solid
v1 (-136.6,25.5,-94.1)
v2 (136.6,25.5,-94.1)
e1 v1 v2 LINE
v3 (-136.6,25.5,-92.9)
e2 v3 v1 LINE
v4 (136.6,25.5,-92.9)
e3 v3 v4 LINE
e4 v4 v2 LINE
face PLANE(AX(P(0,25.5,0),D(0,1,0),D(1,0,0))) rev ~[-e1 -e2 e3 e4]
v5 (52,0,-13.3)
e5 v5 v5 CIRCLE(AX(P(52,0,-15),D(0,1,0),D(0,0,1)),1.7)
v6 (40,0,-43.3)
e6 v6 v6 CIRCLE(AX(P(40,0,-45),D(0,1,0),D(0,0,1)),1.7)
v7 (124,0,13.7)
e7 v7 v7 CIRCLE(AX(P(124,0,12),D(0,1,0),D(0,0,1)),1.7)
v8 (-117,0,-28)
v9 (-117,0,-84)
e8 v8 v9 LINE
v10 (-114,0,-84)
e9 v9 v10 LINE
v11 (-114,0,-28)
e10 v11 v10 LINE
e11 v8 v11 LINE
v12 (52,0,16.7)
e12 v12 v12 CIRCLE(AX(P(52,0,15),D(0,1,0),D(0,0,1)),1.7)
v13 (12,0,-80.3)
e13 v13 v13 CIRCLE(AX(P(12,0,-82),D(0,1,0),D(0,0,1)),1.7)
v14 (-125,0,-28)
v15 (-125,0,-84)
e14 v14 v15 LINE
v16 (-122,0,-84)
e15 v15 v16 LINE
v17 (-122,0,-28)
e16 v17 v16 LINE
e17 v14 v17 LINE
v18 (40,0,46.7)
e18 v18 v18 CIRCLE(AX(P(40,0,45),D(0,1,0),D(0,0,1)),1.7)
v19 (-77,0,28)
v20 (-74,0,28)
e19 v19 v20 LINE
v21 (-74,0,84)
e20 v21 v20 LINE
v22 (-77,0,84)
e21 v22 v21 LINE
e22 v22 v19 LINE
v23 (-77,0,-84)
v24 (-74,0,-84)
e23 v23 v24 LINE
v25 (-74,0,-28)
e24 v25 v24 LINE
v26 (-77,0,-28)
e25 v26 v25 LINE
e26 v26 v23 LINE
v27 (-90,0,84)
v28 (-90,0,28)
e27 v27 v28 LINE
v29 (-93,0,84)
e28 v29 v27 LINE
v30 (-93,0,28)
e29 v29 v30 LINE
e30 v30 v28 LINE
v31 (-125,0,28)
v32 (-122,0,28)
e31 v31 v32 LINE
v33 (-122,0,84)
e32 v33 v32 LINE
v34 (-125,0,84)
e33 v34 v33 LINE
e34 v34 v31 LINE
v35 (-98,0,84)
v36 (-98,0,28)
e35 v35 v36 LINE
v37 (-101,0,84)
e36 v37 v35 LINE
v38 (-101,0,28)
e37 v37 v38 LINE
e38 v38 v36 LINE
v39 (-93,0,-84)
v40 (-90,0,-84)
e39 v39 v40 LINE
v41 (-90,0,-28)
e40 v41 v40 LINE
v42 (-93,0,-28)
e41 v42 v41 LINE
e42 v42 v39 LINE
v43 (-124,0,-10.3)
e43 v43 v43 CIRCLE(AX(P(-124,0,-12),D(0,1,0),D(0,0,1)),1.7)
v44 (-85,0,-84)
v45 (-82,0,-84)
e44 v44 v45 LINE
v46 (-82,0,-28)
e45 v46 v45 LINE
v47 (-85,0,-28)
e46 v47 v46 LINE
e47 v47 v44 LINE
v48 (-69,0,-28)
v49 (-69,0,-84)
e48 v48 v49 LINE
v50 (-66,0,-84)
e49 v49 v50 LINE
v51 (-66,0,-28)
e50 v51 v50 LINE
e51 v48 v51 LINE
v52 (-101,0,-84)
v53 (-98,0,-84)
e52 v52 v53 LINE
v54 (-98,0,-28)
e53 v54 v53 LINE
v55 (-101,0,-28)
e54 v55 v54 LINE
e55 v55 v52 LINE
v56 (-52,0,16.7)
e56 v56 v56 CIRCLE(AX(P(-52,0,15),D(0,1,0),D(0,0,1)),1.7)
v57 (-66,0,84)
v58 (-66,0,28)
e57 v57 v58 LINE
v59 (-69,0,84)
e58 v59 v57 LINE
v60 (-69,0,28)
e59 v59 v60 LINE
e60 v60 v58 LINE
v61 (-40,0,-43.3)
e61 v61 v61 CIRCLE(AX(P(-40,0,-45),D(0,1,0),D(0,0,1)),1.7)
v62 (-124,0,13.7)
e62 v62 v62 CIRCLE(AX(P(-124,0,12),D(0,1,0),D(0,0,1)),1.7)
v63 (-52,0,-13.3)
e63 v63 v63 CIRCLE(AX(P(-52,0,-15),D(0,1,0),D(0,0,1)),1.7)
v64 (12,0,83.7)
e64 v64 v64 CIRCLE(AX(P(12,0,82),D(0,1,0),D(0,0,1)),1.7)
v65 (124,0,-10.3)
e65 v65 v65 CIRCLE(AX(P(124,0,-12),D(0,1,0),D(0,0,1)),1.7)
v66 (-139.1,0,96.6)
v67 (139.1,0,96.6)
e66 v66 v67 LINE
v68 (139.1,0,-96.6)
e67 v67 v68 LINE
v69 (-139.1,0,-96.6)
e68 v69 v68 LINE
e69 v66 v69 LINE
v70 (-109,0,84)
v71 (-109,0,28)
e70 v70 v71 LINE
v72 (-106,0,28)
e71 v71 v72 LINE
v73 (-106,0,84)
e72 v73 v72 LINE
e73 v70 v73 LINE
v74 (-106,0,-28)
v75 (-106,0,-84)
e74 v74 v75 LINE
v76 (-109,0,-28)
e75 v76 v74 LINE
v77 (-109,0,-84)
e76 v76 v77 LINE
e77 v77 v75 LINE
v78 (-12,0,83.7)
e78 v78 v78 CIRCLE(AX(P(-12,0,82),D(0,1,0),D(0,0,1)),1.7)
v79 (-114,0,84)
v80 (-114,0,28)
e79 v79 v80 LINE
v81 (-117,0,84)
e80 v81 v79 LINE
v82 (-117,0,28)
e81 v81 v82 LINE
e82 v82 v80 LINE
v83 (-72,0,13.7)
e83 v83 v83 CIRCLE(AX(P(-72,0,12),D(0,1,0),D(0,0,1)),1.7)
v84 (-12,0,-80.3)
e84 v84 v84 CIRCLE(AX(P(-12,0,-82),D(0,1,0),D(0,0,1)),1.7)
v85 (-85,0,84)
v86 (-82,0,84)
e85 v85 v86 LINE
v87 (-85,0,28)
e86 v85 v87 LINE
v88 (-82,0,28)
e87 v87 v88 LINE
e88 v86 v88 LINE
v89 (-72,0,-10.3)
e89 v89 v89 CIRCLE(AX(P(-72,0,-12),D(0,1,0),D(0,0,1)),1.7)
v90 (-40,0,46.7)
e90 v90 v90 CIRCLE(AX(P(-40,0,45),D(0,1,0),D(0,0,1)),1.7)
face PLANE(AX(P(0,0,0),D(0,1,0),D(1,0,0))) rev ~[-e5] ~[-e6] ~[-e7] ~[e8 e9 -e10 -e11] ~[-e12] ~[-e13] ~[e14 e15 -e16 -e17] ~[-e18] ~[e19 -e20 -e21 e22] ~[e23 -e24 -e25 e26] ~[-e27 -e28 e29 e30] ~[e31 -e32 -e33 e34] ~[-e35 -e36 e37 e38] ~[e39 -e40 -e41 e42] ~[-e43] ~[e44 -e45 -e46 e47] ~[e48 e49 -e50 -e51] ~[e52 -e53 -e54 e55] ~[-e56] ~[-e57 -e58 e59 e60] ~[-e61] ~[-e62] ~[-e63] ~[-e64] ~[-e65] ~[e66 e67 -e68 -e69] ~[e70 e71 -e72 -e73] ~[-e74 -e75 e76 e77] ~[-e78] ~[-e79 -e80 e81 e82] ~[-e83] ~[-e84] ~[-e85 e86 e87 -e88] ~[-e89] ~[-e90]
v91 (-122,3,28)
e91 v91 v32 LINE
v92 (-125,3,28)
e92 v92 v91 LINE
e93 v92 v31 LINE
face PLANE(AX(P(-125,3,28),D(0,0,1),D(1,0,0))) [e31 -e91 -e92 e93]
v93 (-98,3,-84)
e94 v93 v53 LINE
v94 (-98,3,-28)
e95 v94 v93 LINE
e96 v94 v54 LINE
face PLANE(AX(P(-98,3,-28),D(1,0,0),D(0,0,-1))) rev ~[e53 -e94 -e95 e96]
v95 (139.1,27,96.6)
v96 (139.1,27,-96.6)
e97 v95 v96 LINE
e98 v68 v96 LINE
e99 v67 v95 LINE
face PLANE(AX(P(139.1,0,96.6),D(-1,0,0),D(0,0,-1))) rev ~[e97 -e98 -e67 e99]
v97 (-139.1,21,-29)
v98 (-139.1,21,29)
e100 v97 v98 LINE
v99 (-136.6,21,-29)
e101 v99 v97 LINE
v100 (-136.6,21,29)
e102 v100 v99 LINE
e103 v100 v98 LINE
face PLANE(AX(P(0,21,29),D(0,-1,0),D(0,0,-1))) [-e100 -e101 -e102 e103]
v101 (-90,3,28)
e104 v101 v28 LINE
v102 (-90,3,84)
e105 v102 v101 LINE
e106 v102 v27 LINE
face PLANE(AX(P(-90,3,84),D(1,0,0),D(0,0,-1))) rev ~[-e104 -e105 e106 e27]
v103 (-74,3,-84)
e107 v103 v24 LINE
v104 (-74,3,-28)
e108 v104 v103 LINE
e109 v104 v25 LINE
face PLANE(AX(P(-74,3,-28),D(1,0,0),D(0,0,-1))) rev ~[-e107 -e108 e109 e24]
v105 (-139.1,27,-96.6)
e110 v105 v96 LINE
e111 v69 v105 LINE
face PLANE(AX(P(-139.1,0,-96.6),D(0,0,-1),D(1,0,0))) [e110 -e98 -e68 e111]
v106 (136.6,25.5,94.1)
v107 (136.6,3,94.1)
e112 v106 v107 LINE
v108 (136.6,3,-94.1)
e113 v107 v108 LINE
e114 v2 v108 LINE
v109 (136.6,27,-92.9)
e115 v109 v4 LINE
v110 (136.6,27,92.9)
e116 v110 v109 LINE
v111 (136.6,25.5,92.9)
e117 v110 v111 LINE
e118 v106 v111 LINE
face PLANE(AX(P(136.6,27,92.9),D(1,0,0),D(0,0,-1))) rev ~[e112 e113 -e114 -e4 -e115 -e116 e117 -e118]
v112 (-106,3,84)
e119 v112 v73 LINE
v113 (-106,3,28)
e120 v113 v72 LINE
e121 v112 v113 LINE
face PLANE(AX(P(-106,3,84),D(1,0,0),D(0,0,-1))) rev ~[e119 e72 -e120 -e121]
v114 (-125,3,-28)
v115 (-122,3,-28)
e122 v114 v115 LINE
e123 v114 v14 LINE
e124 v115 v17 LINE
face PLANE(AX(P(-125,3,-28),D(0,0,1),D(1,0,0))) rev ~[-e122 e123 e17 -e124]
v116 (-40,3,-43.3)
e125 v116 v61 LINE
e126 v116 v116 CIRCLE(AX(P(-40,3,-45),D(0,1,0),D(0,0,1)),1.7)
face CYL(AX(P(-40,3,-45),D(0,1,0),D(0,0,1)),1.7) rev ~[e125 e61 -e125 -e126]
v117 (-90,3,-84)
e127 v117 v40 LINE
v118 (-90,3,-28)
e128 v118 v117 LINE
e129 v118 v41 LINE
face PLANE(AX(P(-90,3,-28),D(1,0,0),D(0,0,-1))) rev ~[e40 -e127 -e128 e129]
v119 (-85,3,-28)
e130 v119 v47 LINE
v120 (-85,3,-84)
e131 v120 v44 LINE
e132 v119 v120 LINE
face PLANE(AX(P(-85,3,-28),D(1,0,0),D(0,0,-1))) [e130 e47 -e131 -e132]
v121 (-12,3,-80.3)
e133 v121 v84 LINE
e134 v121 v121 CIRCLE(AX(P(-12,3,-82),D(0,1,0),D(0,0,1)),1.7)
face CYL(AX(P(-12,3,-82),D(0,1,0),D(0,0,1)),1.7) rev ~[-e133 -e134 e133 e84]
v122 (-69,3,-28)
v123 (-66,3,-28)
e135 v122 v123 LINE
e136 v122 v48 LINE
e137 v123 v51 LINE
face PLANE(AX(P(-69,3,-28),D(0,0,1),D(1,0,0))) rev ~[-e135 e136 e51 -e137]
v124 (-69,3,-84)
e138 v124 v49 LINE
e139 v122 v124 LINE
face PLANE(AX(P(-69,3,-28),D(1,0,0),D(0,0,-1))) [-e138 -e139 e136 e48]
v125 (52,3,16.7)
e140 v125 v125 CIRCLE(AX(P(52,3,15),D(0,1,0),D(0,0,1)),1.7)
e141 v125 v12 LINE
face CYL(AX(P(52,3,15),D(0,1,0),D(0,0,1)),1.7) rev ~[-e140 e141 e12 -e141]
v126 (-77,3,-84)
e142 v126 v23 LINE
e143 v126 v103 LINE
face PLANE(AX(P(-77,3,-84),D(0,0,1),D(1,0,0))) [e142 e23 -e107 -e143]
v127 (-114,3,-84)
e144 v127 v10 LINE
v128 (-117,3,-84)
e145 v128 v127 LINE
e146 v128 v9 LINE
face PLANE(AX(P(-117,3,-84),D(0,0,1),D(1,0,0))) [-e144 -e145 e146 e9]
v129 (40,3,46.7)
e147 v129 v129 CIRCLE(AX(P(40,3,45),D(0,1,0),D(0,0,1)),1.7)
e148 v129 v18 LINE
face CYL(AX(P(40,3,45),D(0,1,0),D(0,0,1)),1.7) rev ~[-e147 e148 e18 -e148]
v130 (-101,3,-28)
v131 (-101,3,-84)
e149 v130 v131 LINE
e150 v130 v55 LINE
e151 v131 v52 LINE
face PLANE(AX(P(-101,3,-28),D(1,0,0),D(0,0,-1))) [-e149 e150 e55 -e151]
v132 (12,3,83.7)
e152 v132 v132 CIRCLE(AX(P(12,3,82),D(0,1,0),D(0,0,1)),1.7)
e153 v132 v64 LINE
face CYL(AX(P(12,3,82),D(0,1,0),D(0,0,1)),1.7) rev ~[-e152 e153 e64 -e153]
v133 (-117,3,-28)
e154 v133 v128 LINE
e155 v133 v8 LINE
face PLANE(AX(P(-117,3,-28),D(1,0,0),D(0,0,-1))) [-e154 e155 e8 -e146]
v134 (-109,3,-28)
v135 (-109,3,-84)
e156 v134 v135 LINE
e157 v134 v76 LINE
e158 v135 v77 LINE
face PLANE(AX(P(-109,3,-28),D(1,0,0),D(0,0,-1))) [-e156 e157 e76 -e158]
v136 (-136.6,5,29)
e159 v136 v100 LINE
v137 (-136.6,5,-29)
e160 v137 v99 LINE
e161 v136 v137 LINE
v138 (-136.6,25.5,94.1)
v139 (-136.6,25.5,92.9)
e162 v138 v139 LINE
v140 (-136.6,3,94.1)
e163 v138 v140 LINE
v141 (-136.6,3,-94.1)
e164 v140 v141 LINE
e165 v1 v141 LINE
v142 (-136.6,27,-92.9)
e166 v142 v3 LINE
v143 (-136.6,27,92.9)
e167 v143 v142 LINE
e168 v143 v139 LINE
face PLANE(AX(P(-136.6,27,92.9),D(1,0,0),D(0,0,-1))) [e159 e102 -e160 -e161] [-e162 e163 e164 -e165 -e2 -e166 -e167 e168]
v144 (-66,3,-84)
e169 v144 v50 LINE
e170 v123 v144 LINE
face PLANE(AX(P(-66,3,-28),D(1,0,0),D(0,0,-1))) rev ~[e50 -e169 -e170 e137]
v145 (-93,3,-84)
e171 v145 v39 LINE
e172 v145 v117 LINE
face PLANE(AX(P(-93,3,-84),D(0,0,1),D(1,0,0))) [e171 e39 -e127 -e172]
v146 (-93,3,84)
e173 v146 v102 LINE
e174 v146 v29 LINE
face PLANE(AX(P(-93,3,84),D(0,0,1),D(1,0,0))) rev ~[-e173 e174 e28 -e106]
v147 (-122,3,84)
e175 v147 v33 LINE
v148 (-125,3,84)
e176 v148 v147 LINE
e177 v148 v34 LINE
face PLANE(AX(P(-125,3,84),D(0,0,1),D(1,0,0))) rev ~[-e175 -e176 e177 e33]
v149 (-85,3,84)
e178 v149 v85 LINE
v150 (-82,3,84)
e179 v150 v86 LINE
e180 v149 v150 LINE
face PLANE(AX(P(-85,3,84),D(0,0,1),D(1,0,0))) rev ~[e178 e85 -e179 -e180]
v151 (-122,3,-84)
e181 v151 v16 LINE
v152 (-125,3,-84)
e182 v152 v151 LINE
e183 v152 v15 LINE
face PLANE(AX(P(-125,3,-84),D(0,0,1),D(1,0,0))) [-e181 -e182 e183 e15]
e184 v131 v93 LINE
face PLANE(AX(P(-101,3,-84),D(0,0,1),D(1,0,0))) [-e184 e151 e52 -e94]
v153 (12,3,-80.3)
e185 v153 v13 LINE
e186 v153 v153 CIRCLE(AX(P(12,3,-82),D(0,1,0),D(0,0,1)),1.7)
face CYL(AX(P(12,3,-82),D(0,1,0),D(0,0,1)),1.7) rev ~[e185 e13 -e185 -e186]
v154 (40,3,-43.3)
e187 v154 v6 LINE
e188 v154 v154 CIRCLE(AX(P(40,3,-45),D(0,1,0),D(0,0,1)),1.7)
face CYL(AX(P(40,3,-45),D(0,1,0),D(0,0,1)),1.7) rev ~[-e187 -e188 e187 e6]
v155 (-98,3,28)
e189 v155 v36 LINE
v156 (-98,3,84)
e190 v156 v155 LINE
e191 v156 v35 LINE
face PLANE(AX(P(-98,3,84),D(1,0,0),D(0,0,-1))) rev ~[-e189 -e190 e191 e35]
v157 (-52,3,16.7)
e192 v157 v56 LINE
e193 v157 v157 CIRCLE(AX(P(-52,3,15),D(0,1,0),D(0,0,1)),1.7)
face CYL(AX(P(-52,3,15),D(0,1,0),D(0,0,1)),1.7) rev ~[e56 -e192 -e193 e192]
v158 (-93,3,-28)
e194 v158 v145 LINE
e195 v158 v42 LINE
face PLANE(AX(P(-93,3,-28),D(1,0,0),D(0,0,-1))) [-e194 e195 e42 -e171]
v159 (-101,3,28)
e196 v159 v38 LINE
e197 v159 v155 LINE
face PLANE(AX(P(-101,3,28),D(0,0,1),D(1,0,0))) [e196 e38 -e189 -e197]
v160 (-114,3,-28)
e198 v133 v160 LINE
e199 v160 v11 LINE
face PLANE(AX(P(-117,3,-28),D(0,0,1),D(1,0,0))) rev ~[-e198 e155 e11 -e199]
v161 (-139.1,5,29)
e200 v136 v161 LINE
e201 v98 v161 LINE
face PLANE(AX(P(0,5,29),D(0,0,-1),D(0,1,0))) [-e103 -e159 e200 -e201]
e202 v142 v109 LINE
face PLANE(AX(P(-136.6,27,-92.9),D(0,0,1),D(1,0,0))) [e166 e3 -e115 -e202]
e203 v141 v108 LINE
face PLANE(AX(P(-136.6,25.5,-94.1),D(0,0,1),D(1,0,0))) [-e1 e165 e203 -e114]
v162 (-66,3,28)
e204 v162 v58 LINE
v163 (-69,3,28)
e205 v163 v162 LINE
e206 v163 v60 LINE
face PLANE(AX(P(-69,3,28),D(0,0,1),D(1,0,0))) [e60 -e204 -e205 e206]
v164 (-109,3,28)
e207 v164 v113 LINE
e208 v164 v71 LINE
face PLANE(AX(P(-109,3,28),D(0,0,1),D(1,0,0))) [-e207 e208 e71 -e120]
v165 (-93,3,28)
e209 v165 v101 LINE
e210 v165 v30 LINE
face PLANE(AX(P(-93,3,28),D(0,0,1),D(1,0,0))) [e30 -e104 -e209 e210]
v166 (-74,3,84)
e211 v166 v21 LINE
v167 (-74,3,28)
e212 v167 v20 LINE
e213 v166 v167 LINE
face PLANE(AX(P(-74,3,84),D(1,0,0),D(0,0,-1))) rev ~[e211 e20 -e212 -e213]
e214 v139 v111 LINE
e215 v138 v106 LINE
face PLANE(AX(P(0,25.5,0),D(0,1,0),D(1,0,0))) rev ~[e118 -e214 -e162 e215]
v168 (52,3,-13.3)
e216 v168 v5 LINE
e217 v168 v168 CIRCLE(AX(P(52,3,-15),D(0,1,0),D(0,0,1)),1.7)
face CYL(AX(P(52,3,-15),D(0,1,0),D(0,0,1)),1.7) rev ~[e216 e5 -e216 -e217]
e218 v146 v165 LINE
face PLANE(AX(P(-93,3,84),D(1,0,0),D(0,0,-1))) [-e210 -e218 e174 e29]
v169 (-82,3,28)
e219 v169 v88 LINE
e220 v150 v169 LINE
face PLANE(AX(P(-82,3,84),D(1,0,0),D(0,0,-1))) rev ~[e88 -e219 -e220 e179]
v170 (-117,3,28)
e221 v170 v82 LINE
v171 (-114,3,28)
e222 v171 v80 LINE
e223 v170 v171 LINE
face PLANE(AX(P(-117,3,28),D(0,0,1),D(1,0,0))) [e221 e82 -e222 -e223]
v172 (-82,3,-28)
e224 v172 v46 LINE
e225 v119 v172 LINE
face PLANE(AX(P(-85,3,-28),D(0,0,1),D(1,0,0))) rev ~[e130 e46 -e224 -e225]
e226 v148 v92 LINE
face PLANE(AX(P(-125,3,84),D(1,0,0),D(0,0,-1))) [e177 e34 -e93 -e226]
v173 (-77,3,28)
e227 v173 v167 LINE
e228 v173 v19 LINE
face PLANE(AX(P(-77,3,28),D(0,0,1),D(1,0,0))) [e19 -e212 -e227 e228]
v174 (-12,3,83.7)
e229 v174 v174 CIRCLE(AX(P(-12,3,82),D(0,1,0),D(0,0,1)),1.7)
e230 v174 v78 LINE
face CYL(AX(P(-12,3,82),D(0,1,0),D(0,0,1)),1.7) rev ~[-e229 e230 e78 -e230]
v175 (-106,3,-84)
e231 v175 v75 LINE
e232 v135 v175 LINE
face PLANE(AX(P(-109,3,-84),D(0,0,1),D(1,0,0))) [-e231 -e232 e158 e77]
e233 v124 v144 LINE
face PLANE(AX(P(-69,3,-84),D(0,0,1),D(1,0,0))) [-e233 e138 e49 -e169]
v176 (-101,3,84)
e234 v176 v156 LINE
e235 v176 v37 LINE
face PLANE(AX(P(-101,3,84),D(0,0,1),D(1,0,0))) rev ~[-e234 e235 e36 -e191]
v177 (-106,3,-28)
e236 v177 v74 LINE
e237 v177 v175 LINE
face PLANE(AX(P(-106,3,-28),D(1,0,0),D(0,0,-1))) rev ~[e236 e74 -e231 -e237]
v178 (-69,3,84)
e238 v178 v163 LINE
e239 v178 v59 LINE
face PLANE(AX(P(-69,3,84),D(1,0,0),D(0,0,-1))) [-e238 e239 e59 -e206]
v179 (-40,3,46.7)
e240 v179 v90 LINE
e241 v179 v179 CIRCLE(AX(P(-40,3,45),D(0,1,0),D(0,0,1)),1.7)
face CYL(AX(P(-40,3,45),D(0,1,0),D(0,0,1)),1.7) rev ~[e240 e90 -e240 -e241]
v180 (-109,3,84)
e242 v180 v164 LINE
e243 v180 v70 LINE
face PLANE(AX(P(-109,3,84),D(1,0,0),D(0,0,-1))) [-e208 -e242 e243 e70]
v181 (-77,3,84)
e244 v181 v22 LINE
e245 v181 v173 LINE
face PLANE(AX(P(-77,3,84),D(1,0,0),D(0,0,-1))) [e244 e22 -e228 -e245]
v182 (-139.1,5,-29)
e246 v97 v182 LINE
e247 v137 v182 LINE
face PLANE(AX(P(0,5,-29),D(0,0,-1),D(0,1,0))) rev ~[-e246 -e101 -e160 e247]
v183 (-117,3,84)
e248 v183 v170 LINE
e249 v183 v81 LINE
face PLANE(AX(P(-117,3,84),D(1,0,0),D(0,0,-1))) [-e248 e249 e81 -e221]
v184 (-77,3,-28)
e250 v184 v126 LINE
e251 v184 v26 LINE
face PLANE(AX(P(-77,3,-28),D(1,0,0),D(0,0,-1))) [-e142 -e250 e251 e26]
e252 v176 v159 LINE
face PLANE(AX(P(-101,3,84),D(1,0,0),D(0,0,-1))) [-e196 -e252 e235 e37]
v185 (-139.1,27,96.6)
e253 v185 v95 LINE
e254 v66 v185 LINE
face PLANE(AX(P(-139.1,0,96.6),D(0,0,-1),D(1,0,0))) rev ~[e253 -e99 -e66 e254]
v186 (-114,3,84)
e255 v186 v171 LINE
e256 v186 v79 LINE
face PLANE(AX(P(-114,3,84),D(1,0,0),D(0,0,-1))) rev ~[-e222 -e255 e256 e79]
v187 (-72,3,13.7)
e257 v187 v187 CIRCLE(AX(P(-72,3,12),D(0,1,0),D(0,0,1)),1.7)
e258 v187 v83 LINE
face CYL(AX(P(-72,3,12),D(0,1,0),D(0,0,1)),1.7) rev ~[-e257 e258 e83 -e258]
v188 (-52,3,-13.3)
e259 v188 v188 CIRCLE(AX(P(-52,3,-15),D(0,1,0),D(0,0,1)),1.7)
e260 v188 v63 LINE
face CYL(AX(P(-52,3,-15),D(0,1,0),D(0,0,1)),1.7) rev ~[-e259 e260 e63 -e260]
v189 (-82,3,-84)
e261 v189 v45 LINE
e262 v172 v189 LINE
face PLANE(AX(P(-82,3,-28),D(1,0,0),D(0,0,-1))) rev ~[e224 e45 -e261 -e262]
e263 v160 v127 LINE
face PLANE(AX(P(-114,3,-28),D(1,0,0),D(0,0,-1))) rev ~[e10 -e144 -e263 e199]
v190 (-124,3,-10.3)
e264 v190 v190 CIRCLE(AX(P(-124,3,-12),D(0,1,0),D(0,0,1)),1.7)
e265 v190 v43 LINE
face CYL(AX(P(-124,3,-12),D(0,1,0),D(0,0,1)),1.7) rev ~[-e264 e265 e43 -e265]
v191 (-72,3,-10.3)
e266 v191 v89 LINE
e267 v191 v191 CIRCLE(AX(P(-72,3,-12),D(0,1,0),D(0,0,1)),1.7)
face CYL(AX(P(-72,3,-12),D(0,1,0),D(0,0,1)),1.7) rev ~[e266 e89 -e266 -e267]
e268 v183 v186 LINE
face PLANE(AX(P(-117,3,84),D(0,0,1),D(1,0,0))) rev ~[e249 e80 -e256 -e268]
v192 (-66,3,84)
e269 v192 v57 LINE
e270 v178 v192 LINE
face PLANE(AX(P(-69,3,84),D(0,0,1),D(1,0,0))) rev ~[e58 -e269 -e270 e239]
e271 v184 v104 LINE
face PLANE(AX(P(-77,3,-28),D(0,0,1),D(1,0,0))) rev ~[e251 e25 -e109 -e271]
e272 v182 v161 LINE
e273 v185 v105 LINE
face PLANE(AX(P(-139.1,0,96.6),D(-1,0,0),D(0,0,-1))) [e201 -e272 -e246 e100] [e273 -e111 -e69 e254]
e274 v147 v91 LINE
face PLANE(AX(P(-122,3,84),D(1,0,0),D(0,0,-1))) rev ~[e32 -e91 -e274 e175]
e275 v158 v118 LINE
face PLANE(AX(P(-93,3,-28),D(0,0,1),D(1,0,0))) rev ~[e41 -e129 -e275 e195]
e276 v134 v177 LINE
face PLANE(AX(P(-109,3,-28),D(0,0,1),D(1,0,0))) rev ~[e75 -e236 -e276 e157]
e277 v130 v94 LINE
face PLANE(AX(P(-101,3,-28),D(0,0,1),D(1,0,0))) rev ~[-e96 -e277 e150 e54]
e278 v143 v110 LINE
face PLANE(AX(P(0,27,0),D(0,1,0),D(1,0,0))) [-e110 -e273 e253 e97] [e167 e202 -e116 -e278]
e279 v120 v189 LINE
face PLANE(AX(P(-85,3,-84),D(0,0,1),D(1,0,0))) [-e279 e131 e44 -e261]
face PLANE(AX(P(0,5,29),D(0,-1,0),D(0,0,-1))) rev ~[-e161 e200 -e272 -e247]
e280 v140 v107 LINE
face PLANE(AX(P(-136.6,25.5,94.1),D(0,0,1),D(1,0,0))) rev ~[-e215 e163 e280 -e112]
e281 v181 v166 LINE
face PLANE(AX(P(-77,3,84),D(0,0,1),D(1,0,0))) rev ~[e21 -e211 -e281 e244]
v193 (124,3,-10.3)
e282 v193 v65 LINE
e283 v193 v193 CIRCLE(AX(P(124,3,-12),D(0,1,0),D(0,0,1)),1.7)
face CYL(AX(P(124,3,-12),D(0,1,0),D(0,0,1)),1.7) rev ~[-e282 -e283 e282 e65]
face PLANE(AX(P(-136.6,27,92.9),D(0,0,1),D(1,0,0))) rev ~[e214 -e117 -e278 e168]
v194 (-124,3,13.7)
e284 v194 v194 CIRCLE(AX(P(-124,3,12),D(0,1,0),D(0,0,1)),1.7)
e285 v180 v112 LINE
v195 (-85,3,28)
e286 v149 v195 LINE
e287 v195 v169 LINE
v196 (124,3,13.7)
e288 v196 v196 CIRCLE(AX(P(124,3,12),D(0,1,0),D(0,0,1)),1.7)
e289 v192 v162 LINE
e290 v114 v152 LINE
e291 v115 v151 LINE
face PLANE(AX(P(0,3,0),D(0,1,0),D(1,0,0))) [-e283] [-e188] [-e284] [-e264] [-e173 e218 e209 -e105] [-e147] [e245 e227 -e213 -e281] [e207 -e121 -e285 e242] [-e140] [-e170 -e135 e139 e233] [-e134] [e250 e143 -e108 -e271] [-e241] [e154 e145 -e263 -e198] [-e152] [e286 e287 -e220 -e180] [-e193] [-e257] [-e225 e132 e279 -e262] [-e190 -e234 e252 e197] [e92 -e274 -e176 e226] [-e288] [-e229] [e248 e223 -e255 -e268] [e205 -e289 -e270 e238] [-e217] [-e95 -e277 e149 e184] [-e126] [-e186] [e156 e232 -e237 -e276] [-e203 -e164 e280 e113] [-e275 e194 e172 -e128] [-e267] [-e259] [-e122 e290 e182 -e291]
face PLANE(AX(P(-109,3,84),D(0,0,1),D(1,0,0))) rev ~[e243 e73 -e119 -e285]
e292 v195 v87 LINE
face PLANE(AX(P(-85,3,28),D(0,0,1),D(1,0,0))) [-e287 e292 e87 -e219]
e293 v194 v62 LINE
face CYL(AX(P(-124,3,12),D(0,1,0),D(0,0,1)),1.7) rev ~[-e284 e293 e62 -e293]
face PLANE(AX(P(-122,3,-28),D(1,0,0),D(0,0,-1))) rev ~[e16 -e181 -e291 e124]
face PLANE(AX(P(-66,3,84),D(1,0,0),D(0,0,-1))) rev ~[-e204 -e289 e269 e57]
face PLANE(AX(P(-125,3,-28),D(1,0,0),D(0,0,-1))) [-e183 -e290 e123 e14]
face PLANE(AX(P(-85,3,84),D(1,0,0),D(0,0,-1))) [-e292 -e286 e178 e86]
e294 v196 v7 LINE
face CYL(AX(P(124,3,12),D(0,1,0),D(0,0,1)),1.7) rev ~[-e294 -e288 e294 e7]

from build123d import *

# Parameters (mm, degrees)
SKETCH1_W                     = 278.2
SKETCH1_H                     = 193.2
SHELL_BLOCK_DEPTH             = 27
SKETCH2_W                     = 273.2
SKETCH2_H                     = 185.8
FRONT_OPENING_DEPTH           = 1.5
SKETCH3_W                     = 273.2
SKETCH3_H                     = 188.2
DISPLAY_POCKET_DEPTH          = 22.5
SKETCH4_W                     = 3
SKETCH4_H                     = 56
VENT_SLOTS_DEPTH              = 4
SKETCH5_W                     = 58
SKETCH5_H                     = 16
CABLE_EXIT_X_SHORT_SIDE_DEPTH = 140.1
SKETCH6_R                     = 1.7
BOLT_HOLES_DEPTH              = 4


with BuildPart() as part:
    # Sketch1 → Shell Block (new body)
    with BuildSketch(Plane(origin=(0, 0, 0), x_dir=(1, 0, 0), z_dir=(0, 1, 0))):
        Rectangle(SKETCH1_W, SKETCH1_H)
    extrude(amount=SHELL_BLOCK_DEPTH)

    # Sketch2 → Front Opening (cut)
    with BuildSketch(Plane(origin=(0, 27, 0), x_dir=(1, 0, 0), z_dir=(0, 1, 0))):
        Rectangle(SKETCH2_W, SKETCH2_H)
    extrude(amount=-FRONT_OPENING_DEPTH, mode=Mode.SUBTRACT)

    # Sketch3 → Display Pocket (cut)
    with BuildSketch(Plane(origin=(0, 25.5, 0), x_dir=(1, 0, 0), z_dir=(0, 1, 0))):
        Rectangle(SKETCH3_W, SKETCH3_H)
    extrude(amount=-DISPLAY_POCKET_DEPTH, mode=Mode.SUBTRACT)

    # Sketch4 → Vent Slots (cut)
    with BuildSketch(Plane(origin=(0, 3, 0), x_dir=(1, 0, 0), z_dir=(0, 1, 0))):
        with Locations((-67.5, 56)):
            Rectangle(SKETCH4_W, SKETCH4_H)
        with Locations((-67.5, -56)):
            Rectangle(SKETCH4_W, SKETCH4_H)
        with Locations((-75.5, 56)):
            Rectangle(SKETCH4_W, SKETCH4_H)
        with Locations((-75.5, -56)):
            Rectangle(SKETCH4_W, SKETCH4_H)
        with Locations((-83.5, 56)):
            Rectangle(SKETCH4_W, SKETCH4_H)
        with Locations((-83.5, -56)):
            Rectangle(SKETCH4_W, SKETCH4_H)
        with Locations((-91.5, 56)):
            Rectangle(SKETCH4_W, SKETCH4_H)
        with Locations((-91.5, -56)):
            Rectangle(SKETCH4_W, SKETCH4_H)
        with Locations((-99.5, 56)):
            Rectangle(SKETCH4_W, SKETCH4_H)
        with Locations((-99.5, -56)):
            Rectangle(SKETCH4_W, SKETCH4_H)
        with Locations((-107.5, 56)):
            Rectangle(SKETCH4_W, SKETCH4_H)
        with Locations((-107.5, -56)):
            Rectangle(SKETCH4_W, SKETCH4_H)
        with Locations((-115.5, 56)):
            Rectangle(SKETCH4_W, SKETCH4_H)
        with Locations((-115.5, -56)):
            Rectangle(SKETCH4_W, SKETCH4_H)
        with Locations((-123.5, 56)):
            Rectangle(SKETCH4_W, SKETCH4_H)
        with Locations((-123.5, -56)):
            Rectangle(SKETCH4_W, SKETCH4_H)
    extrude(amount=-VENT_SLOTS_DEPTH, mode=Mode.SUBTRACT)

    # Sketch5 → Cable Exit (-X short side) (cut)
    with BuildSketch(Plane(origin=(0, 0, 0), x_dir=(0, 0, -1), z_dir=(1, 0, 0))):
        with Locations((0, 13)):
            Rectangle(SKETCH5_W, SKETCH5_H)
    extrude(amount=-CABLE_EXIT_X_SHORT_SIDE_DEPTH, mode=Mode.SUBTRACT)

    # Sketch6 → Bolt Holes (cut)
    with BuildSketch(Plane(origin=(0, 3, 0), x_dir=(1, 0, 0), z_dir=(0, 1, 0))):
        with Locations(Location((-40, -45, 0), (0, 0, 270))):
            Circle(SKETCH6_R)
        with Locations(Location((-40, 45, 0), (0, 0, 270))):
            Circle(SKETCH6_R)
        with Locations(Location((40, -45, 0), (0, 0, 270))):
            Circle(SKETCH6_R)
        with Locations(Location((40, 45, 0), (0, 0, 270))):
            Circle(SKETCH6_R)
        with Locations(Location((-52, -15, 0), (0, 0, 270))):
            Circle(SKETCH6_R)
        with Locations(Location((-52, 15, 0), (0, 0, 270))):
            Circle(SKETCH6_R)
        with Locations(Location((52, -15, 0), (0, 0, 270))):
            Circle(SKETCH6_R)
        with Locations(Location((52, 15, 0), (0, 0, 270))):
            Circle(SKETCH6_R)
        with Locations(Location((-12, -82, 0), (0, 0, 270))):
            Circle(SKETCH6_R)
        with Locations(Location((-12, 82, 0), (0, 0, 270))):
            Circle(SKETCH6_R)
        with Locations(Location((12, -82, 0), (0, 0, 270))):
            Circle(SKETCH6_R)
        with Locations(Location((12, 82, 0), (0, 0, 270))):
            Circle(SKETCH6_R)
        with Locations(Location((-124, -12, 0), (0, 0, 270))):
            Circle(SKETCH6_R)
        with Locations(Location((-124, 12, 0), (0, 0, 270))):
            Circle(SKETCH6_R)
        with Locations(Location((124, -12, 0), (0, 0, 270))):
            Circle(SKETCH6_R)
        with Locations(Location((124, 12, 0), (0, 0, 270))):
            Circle(SKETCH6_R)
        with Locations(Location((-72, 12, 0), (0, 0, 270))):
            Circle(SKETCH6_R)
        with Locations(Location((-72, -12, 0), (0, 0, 270))):
            Circle(SKETCH6_R)
    extrude(amount=-BOLT_HOLES_DEPTH, mode=Mode.SUBTRACT)


solid = part.part
